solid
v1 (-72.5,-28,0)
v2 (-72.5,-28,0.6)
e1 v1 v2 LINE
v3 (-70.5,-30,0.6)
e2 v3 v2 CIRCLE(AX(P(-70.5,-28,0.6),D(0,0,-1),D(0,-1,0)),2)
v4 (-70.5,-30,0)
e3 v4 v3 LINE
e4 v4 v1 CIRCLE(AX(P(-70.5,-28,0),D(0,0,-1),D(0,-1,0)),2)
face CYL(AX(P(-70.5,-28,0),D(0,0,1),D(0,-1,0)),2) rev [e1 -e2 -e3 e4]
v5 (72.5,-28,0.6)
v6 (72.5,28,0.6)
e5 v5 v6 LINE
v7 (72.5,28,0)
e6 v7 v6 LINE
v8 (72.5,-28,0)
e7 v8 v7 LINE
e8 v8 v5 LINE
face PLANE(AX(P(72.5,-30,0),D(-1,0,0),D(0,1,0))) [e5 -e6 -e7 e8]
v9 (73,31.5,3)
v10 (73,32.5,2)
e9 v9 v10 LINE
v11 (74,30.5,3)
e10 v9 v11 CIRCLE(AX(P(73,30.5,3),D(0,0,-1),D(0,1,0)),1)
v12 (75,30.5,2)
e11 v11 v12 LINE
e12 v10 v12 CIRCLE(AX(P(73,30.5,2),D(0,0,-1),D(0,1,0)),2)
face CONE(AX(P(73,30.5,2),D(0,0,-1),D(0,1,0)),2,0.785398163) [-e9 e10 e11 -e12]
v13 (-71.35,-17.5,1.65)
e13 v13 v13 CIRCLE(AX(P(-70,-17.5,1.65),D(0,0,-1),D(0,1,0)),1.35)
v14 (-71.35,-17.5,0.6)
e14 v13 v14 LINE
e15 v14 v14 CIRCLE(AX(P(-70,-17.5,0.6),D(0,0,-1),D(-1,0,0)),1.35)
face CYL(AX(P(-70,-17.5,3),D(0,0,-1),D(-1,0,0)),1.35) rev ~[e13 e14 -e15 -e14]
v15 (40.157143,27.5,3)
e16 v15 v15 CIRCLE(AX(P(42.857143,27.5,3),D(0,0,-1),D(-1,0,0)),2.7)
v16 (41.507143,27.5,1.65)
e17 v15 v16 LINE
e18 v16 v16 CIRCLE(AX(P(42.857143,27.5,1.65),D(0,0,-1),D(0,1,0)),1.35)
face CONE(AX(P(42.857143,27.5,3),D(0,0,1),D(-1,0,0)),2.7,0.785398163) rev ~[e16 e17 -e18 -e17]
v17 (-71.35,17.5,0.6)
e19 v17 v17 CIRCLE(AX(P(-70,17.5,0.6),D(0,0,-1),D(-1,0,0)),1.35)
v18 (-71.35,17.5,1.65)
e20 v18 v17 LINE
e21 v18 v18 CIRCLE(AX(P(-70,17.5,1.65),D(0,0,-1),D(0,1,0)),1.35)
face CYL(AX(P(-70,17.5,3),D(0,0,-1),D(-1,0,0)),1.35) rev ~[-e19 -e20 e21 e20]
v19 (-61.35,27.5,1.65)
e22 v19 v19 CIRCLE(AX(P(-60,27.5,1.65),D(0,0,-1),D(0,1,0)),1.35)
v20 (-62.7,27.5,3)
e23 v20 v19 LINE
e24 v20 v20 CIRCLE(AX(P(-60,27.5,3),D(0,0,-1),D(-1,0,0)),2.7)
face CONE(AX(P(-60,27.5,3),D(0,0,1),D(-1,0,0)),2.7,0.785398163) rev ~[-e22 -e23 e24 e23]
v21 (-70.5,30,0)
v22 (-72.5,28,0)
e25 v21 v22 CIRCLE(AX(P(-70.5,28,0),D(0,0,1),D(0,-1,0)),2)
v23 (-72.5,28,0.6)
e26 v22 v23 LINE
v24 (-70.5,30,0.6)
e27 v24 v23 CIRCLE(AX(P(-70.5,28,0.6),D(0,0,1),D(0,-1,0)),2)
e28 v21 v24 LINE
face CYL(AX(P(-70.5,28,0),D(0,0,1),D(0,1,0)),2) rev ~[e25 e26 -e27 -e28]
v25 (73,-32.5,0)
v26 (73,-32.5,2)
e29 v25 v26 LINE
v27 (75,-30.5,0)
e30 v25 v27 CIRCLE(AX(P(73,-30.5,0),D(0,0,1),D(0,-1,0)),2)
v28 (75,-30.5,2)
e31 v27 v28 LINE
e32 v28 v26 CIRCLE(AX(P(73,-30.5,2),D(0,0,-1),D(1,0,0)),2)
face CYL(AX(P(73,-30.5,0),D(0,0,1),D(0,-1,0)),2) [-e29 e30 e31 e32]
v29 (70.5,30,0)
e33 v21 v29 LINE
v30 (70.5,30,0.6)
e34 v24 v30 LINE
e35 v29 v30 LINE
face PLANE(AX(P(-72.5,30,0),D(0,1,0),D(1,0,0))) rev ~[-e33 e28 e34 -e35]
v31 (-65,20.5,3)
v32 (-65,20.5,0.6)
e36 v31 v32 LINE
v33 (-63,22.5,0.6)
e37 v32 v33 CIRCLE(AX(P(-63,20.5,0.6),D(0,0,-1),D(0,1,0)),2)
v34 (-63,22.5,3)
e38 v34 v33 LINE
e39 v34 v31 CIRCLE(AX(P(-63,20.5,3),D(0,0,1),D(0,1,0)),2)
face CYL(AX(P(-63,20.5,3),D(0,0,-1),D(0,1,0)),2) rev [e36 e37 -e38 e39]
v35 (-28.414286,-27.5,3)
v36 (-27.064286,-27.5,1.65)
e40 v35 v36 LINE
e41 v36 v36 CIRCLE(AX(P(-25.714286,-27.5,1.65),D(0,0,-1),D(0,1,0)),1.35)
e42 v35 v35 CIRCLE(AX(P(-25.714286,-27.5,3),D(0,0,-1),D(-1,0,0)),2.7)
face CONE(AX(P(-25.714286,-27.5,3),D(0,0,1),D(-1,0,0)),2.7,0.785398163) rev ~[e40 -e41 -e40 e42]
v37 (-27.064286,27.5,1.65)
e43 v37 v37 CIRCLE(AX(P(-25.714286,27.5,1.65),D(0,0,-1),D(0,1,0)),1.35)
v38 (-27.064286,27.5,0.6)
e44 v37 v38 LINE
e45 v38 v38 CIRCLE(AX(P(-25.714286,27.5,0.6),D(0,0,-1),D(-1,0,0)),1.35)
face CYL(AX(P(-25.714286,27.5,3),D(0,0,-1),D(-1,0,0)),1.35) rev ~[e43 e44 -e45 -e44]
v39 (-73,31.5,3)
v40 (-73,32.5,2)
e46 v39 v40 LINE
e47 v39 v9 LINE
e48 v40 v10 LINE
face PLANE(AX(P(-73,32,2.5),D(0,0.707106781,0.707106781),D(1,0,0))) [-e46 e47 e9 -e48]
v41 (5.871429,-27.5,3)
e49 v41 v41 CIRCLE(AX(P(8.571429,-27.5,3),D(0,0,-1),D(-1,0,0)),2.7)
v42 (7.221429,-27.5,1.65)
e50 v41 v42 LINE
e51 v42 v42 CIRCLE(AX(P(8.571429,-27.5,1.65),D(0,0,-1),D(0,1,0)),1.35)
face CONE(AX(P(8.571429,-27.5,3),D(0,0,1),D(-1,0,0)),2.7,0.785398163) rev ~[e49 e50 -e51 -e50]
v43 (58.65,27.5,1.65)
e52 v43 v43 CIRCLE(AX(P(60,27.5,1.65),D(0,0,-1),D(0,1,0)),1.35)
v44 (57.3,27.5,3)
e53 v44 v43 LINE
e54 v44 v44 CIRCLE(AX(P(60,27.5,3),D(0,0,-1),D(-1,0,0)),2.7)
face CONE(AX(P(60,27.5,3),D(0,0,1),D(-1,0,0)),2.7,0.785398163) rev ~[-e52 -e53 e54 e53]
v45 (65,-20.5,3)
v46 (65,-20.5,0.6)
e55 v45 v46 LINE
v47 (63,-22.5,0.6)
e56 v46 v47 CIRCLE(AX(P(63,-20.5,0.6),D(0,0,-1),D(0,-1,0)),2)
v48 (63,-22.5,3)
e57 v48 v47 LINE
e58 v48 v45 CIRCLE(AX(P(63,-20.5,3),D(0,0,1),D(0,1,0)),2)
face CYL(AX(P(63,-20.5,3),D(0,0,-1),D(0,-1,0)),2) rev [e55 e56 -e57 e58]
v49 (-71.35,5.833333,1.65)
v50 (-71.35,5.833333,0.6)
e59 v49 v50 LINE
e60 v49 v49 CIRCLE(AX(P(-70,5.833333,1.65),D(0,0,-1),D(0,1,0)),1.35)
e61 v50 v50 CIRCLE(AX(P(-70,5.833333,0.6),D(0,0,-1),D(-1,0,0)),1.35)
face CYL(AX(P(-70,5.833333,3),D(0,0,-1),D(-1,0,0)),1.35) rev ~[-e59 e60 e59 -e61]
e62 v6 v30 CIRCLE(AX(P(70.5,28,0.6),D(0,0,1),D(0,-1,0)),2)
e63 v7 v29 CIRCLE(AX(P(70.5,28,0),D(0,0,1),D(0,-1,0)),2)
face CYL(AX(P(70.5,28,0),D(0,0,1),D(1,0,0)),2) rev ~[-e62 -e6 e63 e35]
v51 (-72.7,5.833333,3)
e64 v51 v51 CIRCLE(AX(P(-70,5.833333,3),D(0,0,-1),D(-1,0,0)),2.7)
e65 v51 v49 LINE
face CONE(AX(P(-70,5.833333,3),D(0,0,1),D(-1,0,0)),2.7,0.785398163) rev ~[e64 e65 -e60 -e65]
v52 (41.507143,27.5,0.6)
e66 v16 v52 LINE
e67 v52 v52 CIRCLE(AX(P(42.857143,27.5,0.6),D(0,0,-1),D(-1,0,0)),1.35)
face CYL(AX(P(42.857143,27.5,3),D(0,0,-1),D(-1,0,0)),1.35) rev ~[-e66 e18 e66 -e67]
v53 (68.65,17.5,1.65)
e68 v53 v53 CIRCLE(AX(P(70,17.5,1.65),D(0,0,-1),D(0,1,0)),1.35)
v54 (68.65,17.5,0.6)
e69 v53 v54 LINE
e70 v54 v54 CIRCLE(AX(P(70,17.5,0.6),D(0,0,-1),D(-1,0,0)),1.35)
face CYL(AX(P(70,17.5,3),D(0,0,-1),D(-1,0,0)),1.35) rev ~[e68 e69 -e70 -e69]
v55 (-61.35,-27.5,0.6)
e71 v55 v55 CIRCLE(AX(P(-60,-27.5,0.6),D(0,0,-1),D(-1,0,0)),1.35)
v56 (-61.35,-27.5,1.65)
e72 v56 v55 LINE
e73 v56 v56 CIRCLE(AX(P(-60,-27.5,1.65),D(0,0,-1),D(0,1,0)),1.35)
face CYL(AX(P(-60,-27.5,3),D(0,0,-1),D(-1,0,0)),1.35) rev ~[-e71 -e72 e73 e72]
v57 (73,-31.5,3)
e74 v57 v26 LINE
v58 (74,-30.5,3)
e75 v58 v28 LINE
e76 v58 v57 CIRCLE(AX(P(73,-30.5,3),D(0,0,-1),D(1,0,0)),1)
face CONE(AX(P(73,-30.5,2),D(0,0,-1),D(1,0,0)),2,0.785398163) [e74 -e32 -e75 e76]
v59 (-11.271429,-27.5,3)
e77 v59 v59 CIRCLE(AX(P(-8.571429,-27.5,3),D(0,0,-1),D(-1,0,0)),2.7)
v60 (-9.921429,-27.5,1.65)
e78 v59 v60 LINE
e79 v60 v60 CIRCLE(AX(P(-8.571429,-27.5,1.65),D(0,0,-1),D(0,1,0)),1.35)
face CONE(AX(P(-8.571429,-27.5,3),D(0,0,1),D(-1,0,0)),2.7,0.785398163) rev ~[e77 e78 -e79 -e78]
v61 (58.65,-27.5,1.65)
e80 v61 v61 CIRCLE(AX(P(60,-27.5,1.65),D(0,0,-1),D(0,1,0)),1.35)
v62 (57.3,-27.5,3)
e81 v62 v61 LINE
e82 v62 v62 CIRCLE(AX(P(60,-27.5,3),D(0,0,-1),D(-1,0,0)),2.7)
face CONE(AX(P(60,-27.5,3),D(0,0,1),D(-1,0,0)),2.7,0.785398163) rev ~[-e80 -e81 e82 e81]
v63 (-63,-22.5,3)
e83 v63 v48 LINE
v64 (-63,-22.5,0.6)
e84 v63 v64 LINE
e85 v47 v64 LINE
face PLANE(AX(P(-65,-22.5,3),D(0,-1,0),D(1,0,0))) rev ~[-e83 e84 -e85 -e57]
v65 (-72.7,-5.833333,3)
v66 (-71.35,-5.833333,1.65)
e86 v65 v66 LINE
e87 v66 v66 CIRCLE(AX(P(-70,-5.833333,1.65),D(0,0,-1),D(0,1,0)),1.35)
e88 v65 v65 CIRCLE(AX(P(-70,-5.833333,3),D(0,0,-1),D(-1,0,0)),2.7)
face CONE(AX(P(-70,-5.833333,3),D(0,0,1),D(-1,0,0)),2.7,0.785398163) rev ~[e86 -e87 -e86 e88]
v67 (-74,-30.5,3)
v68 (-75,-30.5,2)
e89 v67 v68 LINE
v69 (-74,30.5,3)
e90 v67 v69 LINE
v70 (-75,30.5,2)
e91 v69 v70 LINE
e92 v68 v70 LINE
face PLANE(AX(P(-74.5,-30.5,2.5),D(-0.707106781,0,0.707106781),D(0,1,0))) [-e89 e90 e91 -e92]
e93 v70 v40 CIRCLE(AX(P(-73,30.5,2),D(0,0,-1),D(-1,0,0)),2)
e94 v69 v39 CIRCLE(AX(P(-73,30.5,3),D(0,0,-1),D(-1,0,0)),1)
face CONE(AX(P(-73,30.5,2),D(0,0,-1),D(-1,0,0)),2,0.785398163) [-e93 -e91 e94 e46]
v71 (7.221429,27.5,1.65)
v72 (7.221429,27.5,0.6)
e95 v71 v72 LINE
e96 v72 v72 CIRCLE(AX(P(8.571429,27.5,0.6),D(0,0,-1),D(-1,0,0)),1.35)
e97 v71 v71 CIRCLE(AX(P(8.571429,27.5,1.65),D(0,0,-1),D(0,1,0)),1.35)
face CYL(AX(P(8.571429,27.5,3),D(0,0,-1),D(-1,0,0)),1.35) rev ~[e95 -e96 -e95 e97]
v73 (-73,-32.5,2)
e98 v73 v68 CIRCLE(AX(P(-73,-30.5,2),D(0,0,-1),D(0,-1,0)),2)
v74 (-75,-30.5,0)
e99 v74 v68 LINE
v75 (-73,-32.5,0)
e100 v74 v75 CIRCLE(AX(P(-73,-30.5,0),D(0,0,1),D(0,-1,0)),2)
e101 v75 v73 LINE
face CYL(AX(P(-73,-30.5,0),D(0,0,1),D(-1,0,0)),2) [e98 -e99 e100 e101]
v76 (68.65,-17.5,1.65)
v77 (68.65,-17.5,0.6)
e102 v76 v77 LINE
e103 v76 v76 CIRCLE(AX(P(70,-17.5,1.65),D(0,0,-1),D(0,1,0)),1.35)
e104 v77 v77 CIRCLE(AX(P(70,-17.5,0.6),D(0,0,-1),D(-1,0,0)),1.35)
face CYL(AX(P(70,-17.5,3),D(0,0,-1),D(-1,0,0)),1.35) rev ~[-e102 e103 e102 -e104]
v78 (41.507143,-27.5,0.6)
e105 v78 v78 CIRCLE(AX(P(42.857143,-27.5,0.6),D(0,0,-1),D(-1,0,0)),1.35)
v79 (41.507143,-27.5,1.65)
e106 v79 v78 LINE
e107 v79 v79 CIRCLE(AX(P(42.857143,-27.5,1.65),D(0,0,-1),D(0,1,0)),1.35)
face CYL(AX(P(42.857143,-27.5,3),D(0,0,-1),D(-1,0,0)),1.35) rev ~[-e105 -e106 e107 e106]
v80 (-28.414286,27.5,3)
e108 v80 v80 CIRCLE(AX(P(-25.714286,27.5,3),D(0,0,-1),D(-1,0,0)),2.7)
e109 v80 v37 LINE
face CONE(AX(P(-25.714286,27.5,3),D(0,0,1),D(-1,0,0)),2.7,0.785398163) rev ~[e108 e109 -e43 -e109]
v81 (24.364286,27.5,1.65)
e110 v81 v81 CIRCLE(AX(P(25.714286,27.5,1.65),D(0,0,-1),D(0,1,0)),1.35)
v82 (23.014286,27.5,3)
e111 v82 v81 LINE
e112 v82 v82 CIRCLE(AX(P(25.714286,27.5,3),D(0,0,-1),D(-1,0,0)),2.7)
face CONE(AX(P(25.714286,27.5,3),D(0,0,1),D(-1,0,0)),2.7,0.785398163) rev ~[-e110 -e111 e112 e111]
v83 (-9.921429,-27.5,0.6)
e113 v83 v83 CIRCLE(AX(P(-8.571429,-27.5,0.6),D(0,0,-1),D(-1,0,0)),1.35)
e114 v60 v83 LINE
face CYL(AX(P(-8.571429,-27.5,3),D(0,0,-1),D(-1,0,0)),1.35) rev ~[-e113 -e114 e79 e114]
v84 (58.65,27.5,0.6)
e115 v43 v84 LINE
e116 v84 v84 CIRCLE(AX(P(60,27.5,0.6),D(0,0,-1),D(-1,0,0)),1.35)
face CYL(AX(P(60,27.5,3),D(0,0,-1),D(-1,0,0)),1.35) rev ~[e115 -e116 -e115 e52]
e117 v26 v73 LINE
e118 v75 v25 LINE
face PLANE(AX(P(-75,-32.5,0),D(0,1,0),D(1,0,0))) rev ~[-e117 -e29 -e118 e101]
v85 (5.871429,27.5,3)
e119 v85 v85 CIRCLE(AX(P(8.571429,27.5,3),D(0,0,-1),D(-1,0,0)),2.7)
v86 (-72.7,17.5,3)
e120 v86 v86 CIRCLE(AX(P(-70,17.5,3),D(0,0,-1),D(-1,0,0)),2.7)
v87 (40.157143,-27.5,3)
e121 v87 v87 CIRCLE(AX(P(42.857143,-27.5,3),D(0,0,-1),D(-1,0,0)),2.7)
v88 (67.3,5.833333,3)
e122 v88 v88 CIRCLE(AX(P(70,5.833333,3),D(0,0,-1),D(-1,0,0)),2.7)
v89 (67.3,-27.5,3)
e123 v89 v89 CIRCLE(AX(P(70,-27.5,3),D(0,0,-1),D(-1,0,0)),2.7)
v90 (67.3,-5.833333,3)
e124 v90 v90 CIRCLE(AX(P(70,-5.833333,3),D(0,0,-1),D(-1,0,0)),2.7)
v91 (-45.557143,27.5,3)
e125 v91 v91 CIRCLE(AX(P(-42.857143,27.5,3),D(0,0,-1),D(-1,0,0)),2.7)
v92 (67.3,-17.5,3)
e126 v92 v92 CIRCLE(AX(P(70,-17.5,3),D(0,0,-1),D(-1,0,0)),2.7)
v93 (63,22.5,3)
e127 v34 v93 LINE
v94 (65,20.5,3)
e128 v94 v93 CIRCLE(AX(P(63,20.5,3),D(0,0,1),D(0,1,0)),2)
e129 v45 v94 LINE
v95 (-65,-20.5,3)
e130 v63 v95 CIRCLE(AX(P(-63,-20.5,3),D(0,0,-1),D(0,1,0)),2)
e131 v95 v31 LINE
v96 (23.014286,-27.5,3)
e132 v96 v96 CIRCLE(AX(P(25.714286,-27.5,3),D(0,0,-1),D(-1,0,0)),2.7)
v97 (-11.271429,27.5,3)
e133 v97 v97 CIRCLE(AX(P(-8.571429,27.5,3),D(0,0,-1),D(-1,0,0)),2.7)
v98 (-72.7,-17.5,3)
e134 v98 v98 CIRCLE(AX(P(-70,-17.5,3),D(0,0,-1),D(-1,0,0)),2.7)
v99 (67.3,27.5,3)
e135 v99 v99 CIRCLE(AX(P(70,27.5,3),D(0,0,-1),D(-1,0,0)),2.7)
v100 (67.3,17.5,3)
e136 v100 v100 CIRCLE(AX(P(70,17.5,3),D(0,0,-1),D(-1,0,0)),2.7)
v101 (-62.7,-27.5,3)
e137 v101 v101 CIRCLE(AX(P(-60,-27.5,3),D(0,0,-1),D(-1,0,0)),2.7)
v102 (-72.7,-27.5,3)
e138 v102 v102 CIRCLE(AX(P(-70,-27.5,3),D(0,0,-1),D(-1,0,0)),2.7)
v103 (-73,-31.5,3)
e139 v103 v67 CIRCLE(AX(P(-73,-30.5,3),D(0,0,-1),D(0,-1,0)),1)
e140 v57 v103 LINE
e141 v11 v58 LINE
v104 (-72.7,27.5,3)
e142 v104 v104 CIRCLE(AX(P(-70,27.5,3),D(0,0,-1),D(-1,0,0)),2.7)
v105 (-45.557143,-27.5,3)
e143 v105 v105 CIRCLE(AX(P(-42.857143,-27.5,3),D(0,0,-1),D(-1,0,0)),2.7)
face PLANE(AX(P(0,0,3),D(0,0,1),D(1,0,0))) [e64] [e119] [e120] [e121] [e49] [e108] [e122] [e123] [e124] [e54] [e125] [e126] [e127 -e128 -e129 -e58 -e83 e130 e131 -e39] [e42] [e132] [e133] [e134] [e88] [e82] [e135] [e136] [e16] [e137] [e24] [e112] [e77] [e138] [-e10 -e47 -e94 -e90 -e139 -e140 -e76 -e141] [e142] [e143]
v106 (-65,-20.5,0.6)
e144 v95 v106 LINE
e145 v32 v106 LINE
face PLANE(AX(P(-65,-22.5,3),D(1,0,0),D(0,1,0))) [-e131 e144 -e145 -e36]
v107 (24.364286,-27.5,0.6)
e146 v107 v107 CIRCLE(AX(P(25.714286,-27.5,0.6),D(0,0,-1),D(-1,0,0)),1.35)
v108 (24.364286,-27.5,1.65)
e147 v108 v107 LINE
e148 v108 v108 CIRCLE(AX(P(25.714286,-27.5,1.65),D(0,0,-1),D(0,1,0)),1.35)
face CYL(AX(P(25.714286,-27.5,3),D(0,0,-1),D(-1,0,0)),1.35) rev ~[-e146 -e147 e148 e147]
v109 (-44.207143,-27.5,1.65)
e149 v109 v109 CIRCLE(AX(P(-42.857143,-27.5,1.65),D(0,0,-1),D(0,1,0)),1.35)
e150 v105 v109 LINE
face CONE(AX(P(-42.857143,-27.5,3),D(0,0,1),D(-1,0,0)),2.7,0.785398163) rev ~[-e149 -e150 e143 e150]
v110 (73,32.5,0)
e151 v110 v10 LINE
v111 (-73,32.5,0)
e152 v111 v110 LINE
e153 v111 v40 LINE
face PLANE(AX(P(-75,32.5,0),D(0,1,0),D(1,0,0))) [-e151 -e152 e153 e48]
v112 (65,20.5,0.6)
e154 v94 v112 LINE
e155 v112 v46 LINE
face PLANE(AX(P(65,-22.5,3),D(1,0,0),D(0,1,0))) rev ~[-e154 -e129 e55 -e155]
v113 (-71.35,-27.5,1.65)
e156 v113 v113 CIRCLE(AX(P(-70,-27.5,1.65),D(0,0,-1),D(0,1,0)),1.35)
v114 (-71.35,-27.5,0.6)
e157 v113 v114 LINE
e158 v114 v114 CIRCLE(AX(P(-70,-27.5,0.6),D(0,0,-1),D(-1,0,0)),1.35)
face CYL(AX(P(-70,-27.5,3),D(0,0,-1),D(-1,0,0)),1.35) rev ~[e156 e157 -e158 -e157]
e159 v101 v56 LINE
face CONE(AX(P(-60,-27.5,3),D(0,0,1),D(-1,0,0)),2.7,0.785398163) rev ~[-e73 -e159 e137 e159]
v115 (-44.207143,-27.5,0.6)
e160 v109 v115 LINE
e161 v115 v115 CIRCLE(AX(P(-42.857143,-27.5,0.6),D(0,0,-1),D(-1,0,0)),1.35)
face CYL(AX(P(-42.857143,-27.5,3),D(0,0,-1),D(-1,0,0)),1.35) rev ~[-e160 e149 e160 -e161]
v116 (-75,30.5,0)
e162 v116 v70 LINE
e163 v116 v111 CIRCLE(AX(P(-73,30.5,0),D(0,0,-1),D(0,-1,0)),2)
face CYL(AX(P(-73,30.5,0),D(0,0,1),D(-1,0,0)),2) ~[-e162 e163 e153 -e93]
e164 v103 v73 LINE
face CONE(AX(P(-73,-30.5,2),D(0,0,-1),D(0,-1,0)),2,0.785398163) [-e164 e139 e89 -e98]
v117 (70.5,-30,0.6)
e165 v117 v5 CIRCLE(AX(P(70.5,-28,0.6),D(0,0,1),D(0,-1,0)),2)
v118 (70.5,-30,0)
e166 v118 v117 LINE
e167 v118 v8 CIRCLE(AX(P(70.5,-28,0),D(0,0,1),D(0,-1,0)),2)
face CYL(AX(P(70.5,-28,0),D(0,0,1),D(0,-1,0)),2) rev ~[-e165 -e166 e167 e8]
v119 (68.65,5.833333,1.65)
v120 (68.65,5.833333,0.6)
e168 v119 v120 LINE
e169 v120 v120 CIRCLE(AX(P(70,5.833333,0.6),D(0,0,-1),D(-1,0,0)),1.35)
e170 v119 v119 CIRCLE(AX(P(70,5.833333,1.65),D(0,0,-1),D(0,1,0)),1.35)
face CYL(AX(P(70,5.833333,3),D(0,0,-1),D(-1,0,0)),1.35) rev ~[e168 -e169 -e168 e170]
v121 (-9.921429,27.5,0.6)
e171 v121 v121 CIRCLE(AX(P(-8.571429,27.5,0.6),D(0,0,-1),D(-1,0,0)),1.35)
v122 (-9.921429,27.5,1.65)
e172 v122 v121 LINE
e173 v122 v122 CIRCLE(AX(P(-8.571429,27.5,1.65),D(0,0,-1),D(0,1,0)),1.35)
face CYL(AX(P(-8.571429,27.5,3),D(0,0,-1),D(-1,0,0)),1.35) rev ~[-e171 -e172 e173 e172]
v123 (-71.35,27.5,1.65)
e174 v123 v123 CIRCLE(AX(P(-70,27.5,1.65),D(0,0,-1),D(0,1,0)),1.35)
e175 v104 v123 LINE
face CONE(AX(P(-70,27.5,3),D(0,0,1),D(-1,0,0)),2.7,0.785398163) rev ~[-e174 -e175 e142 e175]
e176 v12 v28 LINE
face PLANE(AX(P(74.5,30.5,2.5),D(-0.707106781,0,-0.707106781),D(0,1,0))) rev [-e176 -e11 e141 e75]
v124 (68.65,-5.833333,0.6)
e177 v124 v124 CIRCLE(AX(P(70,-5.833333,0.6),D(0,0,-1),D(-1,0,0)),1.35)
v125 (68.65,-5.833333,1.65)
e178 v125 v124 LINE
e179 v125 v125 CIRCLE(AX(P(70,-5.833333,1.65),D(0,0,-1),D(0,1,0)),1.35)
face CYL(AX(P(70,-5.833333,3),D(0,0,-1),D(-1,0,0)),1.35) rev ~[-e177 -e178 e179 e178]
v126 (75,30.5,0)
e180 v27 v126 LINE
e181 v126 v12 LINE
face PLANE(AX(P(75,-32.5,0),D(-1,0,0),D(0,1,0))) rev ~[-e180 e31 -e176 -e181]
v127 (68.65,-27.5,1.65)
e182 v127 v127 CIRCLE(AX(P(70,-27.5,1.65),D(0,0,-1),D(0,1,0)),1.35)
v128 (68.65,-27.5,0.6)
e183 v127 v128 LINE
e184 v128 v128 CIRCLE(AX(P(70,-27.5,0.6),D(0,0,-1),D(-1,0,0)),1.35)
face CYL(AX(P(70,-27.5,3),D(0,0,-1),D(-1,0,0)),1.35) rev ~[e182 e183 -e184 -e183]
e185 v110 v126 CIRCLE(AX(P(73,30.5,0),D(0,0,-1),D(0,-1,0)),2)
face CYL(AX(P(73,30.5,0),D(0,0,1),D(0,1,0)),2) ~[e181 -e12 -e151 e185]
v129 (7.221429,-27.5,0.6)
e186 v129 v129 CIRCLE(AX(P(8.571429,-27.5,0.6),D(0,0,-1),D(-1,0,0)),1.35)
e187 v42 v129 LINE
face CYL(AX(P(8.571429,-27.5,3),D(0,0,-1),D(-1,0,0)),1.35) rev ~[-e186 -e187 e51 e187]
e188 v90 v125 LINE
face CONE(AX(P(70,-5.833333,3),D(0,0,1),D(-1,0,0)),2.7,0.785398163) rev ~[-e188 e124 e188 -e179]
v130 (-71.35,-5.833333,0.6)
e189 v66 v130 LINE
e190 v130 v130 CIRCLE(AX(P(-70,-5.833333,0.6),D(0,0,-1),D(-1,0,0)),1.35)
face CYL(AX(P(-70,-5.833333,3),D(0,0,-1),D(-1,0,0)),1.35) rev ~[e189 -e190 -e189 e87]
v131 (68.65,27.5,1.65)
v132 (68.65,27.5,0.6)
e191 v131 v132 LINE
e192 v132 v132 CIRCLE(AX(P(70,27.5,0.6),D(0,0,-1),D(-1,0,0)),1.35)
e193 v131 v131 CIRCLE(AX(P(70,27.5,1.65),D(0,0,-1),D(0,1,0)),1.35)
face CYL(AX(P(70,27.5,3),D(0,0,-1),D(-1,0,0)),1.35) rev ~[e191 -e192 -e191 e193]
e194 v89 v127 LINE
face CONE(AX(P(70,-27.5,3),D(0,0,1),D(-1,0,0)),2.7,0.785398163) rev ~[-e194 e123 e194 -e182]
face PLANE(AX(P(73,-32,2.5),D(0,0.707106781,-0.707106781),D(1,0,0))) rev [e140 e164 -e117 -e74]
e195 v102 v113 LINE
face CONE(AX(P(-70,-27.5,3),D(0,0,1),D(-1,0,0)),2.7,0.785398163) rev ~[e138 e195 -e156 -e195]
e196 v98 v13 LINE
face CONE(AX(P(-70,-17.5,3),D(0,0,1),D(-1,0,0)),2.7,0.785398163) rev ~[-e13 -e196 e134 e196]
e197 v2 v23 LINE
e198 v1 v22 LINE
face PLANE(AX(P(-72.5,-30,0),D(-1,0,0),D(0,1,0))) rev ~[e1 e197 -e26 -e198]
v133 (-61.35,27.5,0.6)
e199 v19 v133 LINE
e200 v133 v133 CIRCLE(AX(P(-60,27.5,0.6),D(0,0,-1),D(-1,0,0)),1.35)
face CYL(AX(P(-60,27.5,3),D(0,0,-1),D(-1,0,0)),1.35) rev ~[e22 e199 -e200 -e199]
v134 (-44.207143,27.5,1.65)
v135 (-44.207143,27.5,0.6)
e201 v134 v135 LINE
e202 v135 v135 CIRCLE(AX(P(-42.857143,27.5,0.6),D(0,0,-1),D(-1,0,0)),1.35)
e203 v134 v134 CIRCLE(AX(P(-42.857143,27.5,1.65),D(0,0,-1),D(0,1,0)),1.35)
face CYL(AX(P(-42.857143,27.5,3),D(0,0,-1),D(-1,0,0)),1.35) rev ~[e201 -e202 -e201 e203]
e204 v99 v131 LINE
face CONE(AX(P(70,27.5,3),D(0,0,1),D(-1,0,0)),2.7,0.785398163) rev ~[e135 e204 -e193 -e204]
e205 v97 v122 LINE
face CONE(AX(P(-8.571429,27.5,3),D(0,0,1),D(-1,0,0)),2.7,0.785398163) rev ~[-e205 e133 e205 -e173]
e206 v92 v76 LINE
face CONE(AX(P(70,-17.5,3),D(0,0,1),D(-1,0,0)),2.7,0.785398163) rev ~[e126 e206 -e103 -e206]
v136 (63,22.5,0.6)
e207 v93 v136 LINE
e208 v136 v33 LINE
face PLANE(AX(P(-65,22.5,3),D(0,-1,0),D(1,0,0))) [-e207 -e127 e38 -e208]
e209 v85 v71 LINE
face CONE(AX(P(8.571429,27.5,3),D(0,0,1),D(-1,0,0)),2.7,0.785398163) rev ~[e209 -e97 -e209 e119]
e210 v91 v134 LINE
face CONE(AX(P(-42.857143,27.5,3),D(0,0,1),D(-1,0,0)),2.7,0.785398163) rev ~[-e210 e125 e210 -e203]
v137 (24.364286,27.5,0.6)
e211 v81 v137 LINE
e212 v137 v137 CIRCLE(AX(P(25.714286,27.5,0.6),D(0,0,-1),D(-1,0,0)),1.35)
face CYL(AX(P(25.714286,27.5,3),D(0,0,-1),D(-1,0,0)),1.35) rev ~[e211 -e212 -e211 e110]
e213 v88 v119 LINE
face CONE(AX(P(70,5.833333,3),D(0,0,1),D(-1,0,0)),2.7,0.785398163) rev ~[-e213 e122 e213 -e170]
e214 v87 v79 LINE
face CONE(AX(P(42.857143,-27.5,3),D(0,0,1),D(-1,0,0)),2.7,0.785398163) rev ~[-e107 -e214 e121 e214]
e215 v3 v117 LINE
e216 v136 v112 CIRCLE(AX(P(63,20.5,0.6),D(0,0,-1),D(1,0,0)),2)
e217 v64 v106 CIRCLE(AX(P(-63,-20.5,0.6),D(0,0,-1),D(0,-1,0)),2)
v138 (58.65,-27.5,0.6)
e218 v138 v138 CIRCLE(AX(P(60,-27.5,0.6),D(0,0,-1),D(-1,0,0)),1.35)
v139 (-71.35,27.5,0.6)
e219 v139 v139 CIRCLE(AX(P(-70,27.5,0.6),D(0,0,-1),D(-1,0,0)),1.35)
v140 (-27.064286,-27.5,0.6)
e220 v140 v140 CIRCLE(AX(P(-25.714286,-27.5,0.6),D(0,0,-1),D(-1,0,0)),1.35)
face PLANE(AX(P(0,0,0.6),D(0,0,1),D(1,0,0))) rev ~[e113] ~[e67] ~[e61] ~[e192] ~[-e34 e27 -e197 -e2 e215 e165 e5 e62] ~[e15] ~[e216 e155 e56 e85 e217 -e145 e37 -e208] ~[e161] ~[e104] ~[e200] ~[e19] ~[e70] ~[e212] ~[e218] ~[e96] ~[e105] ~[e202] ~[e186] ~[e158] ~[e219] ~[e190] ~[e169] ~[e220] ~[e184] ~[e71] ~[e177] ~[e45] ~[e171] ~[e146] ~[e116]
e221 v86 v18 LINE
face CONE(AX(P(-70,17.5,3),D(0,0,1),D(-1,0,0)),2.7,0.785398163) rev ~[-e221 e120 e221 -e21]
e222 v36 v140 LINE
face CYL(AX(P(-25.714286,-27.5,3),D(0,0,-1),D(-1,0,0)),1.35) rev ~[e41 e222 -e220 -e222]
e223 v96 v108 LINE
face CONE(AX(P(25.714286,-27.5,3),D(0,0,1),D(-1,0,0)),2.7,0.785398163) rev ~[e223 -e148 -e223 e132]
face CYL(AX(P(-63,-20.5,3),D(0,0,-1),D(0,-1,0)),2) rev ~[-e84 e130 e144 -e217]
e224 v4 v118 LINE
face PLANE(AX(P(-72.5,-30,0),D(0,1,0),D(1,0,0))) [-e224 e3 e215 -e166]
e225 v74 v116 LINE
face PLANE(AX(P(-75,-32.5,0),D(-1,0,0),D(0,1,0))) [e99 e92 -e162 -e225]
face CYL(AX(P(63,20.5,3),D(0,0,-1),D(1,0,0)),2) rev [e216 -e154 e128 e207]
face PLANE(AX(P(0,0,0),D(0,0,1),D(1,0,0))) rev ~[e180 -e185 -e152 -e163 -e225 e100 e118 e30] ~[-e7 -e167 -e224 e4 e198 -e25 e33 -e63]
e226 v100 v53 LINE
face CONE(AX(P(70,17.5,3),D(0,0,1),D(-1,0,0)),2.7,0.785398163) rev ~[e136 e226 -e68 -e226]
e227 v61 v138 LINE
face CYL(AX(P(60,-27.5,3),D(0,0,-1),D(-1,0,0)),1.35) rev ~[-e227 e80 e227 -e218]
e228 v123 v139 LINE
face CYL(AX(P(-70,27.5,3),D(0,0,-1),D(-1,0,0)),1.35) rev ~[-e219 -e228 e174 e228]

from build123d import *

# Parameters (mm, degrees)
SKETCH1_W                                            = 150
SKETCH1_H                                            = 65
BOSS_EXTRUDE1_DEPTH                                  = 3
SKETCH2_W                                            = 130
SKETCH2_H                                            = 45
CUT_EXTRUDE1_DEPTH                                   = 82.793948431
FILLET1_R                                            = 2
SKETCH3_W                                            = 145
SKETCH3_H                                            = 60
CUT_EXTRUDE2_DEPTH                                   = 0.6
FILLET2_R                                            = 2
CSK_FOR_M2_5_CROSS_RECESSED_CTSK_HEAD_WO_D           = 2.7
CSK_FOR_M2_5_CROSS_RECESSED_CTSK_HEAD_WO_CSINK_D     = 5.4
CSK_FOR_M2_5_CROSS_RECESSED_CTSK_HEAD_WO_CSINK_ANGLE = 90
CHAMFER1_SIZE                                        = 1


with BuildPart() as part:
    # Sketch1 → Boss-Extrude1 (new body)
    with BuildSketch(Plane.XY):
        Rectangle(SKETCH1_W, SKETCH1_H)
    extrude(amount=BOSS_EXTRUDE1_DEPTH)

    # Sketch2 → Cut-Extrude1 (cut, through all)
    with BuildSketch(Plane.XY.offset(3)):
        Rectangle(SKETCH2_W, SKETCH2_H)
    extrude(amount=-CUT_EXTRUDE1_DEPTH, mode=Mode.SUBTRACT)

    # Fillet1
    fillet1_edges = [part.edges().sort_by_distance(p)[0] for p in [
        (-65, -22.5, 1.5),
        (-65, 22.5, 1.5),
        (65, 22.5, 1.5),
        (65, -22.5, 1.5),
        (-75, 32.5, 1.5),
        (75, 32.5, 1.5),
        (75, -32.5, 1.5),
        (-75, -32.5, 1.5),
    ]]
    fillet(fillet1_edges, radius=FILLET1_R)

    # Sketch3 → Cut-Extrude2 (cut)
    with BuildSketch(Plane.XY):
        Rectangle(SKETCH3_W, SKETCH3_H)
    extrude(amount=CUT_EXTRUDE2_DEPTH, mode=Mode.SUBTRACT)

    # Fillet2
    fillet2_edges = [part.edges().sort_by_distance(p)[0] for p in [
        (-72.5, 30, 0.3),
        (-72.5, -30, 0.3),
        (72.5, -30, 0.3),
        (72.5, 30, 0.3),
    ]]
    fillet(fillet2_edges, radius=FILLET2_R)

    # CSK for M2.5 Cross recessed CTSK head wood screws1 (through all)
    with Locations(Plane.XY.offset(3)):
        with Locations((-70, 27.5), (-70, 17.5), (-70, 5.833333333), (-70, -5.833333333), (-70, -17.5), (-70, -27.5), (-60, 27.5), (-42.857142857, 27.5), (-25.714285714, 27.5), (-8.571428571, 27.5), (8.571428571, 27.5), (25.714285714, 27.5), (42.857142857, 27.5), (60, 27.5), (70, 27.5), (70, 17.5), (70, 5.833333333), (70, -5.833333333), (70, -17.5), (70, -27.5), (60, -27.5), (42.857142857, -27.5), (25.714285714, -27.5), (8.571428571, -27.5), (-8.571428571, -27.5), (-25.714285714, -27.5), (-42.857142857, -27.5), (-60, -27.5)):
            CounterSinkHole(CSK_FOR_M2_5_CROSS_RECESSED_CTSK_HEAD_WO_D / 2, CSK_FOR_M2_5_CROSS_RECESSED_CTSK_HEAD_WO_CSINK_D / 2, counter_sink_angle=CSK_FOR_M2_5_CROSS_RECESSED_CTSK_HEAD_WO_CSINK_ANGLE)

    # Chamfer1
    chamfer1_edges = [part.edges().sort_by_distance(p)[0] for p in [
        (0, 32.5, 3),
        (75, 0, 3),
        (-75, 0, 3),
        (0, -32.5, 3),
        (-74.414213562, 31.914213562, 3),
        (-74.414213562, -31.914213562, 3),
        (74.414213562, -31.914213562, 3),
        (74.414213562, 31.914213562, 3),
    ]]
    chamfer(chamfer1_edges, length=CHAMFER1_SIZE)


solid = part.part
